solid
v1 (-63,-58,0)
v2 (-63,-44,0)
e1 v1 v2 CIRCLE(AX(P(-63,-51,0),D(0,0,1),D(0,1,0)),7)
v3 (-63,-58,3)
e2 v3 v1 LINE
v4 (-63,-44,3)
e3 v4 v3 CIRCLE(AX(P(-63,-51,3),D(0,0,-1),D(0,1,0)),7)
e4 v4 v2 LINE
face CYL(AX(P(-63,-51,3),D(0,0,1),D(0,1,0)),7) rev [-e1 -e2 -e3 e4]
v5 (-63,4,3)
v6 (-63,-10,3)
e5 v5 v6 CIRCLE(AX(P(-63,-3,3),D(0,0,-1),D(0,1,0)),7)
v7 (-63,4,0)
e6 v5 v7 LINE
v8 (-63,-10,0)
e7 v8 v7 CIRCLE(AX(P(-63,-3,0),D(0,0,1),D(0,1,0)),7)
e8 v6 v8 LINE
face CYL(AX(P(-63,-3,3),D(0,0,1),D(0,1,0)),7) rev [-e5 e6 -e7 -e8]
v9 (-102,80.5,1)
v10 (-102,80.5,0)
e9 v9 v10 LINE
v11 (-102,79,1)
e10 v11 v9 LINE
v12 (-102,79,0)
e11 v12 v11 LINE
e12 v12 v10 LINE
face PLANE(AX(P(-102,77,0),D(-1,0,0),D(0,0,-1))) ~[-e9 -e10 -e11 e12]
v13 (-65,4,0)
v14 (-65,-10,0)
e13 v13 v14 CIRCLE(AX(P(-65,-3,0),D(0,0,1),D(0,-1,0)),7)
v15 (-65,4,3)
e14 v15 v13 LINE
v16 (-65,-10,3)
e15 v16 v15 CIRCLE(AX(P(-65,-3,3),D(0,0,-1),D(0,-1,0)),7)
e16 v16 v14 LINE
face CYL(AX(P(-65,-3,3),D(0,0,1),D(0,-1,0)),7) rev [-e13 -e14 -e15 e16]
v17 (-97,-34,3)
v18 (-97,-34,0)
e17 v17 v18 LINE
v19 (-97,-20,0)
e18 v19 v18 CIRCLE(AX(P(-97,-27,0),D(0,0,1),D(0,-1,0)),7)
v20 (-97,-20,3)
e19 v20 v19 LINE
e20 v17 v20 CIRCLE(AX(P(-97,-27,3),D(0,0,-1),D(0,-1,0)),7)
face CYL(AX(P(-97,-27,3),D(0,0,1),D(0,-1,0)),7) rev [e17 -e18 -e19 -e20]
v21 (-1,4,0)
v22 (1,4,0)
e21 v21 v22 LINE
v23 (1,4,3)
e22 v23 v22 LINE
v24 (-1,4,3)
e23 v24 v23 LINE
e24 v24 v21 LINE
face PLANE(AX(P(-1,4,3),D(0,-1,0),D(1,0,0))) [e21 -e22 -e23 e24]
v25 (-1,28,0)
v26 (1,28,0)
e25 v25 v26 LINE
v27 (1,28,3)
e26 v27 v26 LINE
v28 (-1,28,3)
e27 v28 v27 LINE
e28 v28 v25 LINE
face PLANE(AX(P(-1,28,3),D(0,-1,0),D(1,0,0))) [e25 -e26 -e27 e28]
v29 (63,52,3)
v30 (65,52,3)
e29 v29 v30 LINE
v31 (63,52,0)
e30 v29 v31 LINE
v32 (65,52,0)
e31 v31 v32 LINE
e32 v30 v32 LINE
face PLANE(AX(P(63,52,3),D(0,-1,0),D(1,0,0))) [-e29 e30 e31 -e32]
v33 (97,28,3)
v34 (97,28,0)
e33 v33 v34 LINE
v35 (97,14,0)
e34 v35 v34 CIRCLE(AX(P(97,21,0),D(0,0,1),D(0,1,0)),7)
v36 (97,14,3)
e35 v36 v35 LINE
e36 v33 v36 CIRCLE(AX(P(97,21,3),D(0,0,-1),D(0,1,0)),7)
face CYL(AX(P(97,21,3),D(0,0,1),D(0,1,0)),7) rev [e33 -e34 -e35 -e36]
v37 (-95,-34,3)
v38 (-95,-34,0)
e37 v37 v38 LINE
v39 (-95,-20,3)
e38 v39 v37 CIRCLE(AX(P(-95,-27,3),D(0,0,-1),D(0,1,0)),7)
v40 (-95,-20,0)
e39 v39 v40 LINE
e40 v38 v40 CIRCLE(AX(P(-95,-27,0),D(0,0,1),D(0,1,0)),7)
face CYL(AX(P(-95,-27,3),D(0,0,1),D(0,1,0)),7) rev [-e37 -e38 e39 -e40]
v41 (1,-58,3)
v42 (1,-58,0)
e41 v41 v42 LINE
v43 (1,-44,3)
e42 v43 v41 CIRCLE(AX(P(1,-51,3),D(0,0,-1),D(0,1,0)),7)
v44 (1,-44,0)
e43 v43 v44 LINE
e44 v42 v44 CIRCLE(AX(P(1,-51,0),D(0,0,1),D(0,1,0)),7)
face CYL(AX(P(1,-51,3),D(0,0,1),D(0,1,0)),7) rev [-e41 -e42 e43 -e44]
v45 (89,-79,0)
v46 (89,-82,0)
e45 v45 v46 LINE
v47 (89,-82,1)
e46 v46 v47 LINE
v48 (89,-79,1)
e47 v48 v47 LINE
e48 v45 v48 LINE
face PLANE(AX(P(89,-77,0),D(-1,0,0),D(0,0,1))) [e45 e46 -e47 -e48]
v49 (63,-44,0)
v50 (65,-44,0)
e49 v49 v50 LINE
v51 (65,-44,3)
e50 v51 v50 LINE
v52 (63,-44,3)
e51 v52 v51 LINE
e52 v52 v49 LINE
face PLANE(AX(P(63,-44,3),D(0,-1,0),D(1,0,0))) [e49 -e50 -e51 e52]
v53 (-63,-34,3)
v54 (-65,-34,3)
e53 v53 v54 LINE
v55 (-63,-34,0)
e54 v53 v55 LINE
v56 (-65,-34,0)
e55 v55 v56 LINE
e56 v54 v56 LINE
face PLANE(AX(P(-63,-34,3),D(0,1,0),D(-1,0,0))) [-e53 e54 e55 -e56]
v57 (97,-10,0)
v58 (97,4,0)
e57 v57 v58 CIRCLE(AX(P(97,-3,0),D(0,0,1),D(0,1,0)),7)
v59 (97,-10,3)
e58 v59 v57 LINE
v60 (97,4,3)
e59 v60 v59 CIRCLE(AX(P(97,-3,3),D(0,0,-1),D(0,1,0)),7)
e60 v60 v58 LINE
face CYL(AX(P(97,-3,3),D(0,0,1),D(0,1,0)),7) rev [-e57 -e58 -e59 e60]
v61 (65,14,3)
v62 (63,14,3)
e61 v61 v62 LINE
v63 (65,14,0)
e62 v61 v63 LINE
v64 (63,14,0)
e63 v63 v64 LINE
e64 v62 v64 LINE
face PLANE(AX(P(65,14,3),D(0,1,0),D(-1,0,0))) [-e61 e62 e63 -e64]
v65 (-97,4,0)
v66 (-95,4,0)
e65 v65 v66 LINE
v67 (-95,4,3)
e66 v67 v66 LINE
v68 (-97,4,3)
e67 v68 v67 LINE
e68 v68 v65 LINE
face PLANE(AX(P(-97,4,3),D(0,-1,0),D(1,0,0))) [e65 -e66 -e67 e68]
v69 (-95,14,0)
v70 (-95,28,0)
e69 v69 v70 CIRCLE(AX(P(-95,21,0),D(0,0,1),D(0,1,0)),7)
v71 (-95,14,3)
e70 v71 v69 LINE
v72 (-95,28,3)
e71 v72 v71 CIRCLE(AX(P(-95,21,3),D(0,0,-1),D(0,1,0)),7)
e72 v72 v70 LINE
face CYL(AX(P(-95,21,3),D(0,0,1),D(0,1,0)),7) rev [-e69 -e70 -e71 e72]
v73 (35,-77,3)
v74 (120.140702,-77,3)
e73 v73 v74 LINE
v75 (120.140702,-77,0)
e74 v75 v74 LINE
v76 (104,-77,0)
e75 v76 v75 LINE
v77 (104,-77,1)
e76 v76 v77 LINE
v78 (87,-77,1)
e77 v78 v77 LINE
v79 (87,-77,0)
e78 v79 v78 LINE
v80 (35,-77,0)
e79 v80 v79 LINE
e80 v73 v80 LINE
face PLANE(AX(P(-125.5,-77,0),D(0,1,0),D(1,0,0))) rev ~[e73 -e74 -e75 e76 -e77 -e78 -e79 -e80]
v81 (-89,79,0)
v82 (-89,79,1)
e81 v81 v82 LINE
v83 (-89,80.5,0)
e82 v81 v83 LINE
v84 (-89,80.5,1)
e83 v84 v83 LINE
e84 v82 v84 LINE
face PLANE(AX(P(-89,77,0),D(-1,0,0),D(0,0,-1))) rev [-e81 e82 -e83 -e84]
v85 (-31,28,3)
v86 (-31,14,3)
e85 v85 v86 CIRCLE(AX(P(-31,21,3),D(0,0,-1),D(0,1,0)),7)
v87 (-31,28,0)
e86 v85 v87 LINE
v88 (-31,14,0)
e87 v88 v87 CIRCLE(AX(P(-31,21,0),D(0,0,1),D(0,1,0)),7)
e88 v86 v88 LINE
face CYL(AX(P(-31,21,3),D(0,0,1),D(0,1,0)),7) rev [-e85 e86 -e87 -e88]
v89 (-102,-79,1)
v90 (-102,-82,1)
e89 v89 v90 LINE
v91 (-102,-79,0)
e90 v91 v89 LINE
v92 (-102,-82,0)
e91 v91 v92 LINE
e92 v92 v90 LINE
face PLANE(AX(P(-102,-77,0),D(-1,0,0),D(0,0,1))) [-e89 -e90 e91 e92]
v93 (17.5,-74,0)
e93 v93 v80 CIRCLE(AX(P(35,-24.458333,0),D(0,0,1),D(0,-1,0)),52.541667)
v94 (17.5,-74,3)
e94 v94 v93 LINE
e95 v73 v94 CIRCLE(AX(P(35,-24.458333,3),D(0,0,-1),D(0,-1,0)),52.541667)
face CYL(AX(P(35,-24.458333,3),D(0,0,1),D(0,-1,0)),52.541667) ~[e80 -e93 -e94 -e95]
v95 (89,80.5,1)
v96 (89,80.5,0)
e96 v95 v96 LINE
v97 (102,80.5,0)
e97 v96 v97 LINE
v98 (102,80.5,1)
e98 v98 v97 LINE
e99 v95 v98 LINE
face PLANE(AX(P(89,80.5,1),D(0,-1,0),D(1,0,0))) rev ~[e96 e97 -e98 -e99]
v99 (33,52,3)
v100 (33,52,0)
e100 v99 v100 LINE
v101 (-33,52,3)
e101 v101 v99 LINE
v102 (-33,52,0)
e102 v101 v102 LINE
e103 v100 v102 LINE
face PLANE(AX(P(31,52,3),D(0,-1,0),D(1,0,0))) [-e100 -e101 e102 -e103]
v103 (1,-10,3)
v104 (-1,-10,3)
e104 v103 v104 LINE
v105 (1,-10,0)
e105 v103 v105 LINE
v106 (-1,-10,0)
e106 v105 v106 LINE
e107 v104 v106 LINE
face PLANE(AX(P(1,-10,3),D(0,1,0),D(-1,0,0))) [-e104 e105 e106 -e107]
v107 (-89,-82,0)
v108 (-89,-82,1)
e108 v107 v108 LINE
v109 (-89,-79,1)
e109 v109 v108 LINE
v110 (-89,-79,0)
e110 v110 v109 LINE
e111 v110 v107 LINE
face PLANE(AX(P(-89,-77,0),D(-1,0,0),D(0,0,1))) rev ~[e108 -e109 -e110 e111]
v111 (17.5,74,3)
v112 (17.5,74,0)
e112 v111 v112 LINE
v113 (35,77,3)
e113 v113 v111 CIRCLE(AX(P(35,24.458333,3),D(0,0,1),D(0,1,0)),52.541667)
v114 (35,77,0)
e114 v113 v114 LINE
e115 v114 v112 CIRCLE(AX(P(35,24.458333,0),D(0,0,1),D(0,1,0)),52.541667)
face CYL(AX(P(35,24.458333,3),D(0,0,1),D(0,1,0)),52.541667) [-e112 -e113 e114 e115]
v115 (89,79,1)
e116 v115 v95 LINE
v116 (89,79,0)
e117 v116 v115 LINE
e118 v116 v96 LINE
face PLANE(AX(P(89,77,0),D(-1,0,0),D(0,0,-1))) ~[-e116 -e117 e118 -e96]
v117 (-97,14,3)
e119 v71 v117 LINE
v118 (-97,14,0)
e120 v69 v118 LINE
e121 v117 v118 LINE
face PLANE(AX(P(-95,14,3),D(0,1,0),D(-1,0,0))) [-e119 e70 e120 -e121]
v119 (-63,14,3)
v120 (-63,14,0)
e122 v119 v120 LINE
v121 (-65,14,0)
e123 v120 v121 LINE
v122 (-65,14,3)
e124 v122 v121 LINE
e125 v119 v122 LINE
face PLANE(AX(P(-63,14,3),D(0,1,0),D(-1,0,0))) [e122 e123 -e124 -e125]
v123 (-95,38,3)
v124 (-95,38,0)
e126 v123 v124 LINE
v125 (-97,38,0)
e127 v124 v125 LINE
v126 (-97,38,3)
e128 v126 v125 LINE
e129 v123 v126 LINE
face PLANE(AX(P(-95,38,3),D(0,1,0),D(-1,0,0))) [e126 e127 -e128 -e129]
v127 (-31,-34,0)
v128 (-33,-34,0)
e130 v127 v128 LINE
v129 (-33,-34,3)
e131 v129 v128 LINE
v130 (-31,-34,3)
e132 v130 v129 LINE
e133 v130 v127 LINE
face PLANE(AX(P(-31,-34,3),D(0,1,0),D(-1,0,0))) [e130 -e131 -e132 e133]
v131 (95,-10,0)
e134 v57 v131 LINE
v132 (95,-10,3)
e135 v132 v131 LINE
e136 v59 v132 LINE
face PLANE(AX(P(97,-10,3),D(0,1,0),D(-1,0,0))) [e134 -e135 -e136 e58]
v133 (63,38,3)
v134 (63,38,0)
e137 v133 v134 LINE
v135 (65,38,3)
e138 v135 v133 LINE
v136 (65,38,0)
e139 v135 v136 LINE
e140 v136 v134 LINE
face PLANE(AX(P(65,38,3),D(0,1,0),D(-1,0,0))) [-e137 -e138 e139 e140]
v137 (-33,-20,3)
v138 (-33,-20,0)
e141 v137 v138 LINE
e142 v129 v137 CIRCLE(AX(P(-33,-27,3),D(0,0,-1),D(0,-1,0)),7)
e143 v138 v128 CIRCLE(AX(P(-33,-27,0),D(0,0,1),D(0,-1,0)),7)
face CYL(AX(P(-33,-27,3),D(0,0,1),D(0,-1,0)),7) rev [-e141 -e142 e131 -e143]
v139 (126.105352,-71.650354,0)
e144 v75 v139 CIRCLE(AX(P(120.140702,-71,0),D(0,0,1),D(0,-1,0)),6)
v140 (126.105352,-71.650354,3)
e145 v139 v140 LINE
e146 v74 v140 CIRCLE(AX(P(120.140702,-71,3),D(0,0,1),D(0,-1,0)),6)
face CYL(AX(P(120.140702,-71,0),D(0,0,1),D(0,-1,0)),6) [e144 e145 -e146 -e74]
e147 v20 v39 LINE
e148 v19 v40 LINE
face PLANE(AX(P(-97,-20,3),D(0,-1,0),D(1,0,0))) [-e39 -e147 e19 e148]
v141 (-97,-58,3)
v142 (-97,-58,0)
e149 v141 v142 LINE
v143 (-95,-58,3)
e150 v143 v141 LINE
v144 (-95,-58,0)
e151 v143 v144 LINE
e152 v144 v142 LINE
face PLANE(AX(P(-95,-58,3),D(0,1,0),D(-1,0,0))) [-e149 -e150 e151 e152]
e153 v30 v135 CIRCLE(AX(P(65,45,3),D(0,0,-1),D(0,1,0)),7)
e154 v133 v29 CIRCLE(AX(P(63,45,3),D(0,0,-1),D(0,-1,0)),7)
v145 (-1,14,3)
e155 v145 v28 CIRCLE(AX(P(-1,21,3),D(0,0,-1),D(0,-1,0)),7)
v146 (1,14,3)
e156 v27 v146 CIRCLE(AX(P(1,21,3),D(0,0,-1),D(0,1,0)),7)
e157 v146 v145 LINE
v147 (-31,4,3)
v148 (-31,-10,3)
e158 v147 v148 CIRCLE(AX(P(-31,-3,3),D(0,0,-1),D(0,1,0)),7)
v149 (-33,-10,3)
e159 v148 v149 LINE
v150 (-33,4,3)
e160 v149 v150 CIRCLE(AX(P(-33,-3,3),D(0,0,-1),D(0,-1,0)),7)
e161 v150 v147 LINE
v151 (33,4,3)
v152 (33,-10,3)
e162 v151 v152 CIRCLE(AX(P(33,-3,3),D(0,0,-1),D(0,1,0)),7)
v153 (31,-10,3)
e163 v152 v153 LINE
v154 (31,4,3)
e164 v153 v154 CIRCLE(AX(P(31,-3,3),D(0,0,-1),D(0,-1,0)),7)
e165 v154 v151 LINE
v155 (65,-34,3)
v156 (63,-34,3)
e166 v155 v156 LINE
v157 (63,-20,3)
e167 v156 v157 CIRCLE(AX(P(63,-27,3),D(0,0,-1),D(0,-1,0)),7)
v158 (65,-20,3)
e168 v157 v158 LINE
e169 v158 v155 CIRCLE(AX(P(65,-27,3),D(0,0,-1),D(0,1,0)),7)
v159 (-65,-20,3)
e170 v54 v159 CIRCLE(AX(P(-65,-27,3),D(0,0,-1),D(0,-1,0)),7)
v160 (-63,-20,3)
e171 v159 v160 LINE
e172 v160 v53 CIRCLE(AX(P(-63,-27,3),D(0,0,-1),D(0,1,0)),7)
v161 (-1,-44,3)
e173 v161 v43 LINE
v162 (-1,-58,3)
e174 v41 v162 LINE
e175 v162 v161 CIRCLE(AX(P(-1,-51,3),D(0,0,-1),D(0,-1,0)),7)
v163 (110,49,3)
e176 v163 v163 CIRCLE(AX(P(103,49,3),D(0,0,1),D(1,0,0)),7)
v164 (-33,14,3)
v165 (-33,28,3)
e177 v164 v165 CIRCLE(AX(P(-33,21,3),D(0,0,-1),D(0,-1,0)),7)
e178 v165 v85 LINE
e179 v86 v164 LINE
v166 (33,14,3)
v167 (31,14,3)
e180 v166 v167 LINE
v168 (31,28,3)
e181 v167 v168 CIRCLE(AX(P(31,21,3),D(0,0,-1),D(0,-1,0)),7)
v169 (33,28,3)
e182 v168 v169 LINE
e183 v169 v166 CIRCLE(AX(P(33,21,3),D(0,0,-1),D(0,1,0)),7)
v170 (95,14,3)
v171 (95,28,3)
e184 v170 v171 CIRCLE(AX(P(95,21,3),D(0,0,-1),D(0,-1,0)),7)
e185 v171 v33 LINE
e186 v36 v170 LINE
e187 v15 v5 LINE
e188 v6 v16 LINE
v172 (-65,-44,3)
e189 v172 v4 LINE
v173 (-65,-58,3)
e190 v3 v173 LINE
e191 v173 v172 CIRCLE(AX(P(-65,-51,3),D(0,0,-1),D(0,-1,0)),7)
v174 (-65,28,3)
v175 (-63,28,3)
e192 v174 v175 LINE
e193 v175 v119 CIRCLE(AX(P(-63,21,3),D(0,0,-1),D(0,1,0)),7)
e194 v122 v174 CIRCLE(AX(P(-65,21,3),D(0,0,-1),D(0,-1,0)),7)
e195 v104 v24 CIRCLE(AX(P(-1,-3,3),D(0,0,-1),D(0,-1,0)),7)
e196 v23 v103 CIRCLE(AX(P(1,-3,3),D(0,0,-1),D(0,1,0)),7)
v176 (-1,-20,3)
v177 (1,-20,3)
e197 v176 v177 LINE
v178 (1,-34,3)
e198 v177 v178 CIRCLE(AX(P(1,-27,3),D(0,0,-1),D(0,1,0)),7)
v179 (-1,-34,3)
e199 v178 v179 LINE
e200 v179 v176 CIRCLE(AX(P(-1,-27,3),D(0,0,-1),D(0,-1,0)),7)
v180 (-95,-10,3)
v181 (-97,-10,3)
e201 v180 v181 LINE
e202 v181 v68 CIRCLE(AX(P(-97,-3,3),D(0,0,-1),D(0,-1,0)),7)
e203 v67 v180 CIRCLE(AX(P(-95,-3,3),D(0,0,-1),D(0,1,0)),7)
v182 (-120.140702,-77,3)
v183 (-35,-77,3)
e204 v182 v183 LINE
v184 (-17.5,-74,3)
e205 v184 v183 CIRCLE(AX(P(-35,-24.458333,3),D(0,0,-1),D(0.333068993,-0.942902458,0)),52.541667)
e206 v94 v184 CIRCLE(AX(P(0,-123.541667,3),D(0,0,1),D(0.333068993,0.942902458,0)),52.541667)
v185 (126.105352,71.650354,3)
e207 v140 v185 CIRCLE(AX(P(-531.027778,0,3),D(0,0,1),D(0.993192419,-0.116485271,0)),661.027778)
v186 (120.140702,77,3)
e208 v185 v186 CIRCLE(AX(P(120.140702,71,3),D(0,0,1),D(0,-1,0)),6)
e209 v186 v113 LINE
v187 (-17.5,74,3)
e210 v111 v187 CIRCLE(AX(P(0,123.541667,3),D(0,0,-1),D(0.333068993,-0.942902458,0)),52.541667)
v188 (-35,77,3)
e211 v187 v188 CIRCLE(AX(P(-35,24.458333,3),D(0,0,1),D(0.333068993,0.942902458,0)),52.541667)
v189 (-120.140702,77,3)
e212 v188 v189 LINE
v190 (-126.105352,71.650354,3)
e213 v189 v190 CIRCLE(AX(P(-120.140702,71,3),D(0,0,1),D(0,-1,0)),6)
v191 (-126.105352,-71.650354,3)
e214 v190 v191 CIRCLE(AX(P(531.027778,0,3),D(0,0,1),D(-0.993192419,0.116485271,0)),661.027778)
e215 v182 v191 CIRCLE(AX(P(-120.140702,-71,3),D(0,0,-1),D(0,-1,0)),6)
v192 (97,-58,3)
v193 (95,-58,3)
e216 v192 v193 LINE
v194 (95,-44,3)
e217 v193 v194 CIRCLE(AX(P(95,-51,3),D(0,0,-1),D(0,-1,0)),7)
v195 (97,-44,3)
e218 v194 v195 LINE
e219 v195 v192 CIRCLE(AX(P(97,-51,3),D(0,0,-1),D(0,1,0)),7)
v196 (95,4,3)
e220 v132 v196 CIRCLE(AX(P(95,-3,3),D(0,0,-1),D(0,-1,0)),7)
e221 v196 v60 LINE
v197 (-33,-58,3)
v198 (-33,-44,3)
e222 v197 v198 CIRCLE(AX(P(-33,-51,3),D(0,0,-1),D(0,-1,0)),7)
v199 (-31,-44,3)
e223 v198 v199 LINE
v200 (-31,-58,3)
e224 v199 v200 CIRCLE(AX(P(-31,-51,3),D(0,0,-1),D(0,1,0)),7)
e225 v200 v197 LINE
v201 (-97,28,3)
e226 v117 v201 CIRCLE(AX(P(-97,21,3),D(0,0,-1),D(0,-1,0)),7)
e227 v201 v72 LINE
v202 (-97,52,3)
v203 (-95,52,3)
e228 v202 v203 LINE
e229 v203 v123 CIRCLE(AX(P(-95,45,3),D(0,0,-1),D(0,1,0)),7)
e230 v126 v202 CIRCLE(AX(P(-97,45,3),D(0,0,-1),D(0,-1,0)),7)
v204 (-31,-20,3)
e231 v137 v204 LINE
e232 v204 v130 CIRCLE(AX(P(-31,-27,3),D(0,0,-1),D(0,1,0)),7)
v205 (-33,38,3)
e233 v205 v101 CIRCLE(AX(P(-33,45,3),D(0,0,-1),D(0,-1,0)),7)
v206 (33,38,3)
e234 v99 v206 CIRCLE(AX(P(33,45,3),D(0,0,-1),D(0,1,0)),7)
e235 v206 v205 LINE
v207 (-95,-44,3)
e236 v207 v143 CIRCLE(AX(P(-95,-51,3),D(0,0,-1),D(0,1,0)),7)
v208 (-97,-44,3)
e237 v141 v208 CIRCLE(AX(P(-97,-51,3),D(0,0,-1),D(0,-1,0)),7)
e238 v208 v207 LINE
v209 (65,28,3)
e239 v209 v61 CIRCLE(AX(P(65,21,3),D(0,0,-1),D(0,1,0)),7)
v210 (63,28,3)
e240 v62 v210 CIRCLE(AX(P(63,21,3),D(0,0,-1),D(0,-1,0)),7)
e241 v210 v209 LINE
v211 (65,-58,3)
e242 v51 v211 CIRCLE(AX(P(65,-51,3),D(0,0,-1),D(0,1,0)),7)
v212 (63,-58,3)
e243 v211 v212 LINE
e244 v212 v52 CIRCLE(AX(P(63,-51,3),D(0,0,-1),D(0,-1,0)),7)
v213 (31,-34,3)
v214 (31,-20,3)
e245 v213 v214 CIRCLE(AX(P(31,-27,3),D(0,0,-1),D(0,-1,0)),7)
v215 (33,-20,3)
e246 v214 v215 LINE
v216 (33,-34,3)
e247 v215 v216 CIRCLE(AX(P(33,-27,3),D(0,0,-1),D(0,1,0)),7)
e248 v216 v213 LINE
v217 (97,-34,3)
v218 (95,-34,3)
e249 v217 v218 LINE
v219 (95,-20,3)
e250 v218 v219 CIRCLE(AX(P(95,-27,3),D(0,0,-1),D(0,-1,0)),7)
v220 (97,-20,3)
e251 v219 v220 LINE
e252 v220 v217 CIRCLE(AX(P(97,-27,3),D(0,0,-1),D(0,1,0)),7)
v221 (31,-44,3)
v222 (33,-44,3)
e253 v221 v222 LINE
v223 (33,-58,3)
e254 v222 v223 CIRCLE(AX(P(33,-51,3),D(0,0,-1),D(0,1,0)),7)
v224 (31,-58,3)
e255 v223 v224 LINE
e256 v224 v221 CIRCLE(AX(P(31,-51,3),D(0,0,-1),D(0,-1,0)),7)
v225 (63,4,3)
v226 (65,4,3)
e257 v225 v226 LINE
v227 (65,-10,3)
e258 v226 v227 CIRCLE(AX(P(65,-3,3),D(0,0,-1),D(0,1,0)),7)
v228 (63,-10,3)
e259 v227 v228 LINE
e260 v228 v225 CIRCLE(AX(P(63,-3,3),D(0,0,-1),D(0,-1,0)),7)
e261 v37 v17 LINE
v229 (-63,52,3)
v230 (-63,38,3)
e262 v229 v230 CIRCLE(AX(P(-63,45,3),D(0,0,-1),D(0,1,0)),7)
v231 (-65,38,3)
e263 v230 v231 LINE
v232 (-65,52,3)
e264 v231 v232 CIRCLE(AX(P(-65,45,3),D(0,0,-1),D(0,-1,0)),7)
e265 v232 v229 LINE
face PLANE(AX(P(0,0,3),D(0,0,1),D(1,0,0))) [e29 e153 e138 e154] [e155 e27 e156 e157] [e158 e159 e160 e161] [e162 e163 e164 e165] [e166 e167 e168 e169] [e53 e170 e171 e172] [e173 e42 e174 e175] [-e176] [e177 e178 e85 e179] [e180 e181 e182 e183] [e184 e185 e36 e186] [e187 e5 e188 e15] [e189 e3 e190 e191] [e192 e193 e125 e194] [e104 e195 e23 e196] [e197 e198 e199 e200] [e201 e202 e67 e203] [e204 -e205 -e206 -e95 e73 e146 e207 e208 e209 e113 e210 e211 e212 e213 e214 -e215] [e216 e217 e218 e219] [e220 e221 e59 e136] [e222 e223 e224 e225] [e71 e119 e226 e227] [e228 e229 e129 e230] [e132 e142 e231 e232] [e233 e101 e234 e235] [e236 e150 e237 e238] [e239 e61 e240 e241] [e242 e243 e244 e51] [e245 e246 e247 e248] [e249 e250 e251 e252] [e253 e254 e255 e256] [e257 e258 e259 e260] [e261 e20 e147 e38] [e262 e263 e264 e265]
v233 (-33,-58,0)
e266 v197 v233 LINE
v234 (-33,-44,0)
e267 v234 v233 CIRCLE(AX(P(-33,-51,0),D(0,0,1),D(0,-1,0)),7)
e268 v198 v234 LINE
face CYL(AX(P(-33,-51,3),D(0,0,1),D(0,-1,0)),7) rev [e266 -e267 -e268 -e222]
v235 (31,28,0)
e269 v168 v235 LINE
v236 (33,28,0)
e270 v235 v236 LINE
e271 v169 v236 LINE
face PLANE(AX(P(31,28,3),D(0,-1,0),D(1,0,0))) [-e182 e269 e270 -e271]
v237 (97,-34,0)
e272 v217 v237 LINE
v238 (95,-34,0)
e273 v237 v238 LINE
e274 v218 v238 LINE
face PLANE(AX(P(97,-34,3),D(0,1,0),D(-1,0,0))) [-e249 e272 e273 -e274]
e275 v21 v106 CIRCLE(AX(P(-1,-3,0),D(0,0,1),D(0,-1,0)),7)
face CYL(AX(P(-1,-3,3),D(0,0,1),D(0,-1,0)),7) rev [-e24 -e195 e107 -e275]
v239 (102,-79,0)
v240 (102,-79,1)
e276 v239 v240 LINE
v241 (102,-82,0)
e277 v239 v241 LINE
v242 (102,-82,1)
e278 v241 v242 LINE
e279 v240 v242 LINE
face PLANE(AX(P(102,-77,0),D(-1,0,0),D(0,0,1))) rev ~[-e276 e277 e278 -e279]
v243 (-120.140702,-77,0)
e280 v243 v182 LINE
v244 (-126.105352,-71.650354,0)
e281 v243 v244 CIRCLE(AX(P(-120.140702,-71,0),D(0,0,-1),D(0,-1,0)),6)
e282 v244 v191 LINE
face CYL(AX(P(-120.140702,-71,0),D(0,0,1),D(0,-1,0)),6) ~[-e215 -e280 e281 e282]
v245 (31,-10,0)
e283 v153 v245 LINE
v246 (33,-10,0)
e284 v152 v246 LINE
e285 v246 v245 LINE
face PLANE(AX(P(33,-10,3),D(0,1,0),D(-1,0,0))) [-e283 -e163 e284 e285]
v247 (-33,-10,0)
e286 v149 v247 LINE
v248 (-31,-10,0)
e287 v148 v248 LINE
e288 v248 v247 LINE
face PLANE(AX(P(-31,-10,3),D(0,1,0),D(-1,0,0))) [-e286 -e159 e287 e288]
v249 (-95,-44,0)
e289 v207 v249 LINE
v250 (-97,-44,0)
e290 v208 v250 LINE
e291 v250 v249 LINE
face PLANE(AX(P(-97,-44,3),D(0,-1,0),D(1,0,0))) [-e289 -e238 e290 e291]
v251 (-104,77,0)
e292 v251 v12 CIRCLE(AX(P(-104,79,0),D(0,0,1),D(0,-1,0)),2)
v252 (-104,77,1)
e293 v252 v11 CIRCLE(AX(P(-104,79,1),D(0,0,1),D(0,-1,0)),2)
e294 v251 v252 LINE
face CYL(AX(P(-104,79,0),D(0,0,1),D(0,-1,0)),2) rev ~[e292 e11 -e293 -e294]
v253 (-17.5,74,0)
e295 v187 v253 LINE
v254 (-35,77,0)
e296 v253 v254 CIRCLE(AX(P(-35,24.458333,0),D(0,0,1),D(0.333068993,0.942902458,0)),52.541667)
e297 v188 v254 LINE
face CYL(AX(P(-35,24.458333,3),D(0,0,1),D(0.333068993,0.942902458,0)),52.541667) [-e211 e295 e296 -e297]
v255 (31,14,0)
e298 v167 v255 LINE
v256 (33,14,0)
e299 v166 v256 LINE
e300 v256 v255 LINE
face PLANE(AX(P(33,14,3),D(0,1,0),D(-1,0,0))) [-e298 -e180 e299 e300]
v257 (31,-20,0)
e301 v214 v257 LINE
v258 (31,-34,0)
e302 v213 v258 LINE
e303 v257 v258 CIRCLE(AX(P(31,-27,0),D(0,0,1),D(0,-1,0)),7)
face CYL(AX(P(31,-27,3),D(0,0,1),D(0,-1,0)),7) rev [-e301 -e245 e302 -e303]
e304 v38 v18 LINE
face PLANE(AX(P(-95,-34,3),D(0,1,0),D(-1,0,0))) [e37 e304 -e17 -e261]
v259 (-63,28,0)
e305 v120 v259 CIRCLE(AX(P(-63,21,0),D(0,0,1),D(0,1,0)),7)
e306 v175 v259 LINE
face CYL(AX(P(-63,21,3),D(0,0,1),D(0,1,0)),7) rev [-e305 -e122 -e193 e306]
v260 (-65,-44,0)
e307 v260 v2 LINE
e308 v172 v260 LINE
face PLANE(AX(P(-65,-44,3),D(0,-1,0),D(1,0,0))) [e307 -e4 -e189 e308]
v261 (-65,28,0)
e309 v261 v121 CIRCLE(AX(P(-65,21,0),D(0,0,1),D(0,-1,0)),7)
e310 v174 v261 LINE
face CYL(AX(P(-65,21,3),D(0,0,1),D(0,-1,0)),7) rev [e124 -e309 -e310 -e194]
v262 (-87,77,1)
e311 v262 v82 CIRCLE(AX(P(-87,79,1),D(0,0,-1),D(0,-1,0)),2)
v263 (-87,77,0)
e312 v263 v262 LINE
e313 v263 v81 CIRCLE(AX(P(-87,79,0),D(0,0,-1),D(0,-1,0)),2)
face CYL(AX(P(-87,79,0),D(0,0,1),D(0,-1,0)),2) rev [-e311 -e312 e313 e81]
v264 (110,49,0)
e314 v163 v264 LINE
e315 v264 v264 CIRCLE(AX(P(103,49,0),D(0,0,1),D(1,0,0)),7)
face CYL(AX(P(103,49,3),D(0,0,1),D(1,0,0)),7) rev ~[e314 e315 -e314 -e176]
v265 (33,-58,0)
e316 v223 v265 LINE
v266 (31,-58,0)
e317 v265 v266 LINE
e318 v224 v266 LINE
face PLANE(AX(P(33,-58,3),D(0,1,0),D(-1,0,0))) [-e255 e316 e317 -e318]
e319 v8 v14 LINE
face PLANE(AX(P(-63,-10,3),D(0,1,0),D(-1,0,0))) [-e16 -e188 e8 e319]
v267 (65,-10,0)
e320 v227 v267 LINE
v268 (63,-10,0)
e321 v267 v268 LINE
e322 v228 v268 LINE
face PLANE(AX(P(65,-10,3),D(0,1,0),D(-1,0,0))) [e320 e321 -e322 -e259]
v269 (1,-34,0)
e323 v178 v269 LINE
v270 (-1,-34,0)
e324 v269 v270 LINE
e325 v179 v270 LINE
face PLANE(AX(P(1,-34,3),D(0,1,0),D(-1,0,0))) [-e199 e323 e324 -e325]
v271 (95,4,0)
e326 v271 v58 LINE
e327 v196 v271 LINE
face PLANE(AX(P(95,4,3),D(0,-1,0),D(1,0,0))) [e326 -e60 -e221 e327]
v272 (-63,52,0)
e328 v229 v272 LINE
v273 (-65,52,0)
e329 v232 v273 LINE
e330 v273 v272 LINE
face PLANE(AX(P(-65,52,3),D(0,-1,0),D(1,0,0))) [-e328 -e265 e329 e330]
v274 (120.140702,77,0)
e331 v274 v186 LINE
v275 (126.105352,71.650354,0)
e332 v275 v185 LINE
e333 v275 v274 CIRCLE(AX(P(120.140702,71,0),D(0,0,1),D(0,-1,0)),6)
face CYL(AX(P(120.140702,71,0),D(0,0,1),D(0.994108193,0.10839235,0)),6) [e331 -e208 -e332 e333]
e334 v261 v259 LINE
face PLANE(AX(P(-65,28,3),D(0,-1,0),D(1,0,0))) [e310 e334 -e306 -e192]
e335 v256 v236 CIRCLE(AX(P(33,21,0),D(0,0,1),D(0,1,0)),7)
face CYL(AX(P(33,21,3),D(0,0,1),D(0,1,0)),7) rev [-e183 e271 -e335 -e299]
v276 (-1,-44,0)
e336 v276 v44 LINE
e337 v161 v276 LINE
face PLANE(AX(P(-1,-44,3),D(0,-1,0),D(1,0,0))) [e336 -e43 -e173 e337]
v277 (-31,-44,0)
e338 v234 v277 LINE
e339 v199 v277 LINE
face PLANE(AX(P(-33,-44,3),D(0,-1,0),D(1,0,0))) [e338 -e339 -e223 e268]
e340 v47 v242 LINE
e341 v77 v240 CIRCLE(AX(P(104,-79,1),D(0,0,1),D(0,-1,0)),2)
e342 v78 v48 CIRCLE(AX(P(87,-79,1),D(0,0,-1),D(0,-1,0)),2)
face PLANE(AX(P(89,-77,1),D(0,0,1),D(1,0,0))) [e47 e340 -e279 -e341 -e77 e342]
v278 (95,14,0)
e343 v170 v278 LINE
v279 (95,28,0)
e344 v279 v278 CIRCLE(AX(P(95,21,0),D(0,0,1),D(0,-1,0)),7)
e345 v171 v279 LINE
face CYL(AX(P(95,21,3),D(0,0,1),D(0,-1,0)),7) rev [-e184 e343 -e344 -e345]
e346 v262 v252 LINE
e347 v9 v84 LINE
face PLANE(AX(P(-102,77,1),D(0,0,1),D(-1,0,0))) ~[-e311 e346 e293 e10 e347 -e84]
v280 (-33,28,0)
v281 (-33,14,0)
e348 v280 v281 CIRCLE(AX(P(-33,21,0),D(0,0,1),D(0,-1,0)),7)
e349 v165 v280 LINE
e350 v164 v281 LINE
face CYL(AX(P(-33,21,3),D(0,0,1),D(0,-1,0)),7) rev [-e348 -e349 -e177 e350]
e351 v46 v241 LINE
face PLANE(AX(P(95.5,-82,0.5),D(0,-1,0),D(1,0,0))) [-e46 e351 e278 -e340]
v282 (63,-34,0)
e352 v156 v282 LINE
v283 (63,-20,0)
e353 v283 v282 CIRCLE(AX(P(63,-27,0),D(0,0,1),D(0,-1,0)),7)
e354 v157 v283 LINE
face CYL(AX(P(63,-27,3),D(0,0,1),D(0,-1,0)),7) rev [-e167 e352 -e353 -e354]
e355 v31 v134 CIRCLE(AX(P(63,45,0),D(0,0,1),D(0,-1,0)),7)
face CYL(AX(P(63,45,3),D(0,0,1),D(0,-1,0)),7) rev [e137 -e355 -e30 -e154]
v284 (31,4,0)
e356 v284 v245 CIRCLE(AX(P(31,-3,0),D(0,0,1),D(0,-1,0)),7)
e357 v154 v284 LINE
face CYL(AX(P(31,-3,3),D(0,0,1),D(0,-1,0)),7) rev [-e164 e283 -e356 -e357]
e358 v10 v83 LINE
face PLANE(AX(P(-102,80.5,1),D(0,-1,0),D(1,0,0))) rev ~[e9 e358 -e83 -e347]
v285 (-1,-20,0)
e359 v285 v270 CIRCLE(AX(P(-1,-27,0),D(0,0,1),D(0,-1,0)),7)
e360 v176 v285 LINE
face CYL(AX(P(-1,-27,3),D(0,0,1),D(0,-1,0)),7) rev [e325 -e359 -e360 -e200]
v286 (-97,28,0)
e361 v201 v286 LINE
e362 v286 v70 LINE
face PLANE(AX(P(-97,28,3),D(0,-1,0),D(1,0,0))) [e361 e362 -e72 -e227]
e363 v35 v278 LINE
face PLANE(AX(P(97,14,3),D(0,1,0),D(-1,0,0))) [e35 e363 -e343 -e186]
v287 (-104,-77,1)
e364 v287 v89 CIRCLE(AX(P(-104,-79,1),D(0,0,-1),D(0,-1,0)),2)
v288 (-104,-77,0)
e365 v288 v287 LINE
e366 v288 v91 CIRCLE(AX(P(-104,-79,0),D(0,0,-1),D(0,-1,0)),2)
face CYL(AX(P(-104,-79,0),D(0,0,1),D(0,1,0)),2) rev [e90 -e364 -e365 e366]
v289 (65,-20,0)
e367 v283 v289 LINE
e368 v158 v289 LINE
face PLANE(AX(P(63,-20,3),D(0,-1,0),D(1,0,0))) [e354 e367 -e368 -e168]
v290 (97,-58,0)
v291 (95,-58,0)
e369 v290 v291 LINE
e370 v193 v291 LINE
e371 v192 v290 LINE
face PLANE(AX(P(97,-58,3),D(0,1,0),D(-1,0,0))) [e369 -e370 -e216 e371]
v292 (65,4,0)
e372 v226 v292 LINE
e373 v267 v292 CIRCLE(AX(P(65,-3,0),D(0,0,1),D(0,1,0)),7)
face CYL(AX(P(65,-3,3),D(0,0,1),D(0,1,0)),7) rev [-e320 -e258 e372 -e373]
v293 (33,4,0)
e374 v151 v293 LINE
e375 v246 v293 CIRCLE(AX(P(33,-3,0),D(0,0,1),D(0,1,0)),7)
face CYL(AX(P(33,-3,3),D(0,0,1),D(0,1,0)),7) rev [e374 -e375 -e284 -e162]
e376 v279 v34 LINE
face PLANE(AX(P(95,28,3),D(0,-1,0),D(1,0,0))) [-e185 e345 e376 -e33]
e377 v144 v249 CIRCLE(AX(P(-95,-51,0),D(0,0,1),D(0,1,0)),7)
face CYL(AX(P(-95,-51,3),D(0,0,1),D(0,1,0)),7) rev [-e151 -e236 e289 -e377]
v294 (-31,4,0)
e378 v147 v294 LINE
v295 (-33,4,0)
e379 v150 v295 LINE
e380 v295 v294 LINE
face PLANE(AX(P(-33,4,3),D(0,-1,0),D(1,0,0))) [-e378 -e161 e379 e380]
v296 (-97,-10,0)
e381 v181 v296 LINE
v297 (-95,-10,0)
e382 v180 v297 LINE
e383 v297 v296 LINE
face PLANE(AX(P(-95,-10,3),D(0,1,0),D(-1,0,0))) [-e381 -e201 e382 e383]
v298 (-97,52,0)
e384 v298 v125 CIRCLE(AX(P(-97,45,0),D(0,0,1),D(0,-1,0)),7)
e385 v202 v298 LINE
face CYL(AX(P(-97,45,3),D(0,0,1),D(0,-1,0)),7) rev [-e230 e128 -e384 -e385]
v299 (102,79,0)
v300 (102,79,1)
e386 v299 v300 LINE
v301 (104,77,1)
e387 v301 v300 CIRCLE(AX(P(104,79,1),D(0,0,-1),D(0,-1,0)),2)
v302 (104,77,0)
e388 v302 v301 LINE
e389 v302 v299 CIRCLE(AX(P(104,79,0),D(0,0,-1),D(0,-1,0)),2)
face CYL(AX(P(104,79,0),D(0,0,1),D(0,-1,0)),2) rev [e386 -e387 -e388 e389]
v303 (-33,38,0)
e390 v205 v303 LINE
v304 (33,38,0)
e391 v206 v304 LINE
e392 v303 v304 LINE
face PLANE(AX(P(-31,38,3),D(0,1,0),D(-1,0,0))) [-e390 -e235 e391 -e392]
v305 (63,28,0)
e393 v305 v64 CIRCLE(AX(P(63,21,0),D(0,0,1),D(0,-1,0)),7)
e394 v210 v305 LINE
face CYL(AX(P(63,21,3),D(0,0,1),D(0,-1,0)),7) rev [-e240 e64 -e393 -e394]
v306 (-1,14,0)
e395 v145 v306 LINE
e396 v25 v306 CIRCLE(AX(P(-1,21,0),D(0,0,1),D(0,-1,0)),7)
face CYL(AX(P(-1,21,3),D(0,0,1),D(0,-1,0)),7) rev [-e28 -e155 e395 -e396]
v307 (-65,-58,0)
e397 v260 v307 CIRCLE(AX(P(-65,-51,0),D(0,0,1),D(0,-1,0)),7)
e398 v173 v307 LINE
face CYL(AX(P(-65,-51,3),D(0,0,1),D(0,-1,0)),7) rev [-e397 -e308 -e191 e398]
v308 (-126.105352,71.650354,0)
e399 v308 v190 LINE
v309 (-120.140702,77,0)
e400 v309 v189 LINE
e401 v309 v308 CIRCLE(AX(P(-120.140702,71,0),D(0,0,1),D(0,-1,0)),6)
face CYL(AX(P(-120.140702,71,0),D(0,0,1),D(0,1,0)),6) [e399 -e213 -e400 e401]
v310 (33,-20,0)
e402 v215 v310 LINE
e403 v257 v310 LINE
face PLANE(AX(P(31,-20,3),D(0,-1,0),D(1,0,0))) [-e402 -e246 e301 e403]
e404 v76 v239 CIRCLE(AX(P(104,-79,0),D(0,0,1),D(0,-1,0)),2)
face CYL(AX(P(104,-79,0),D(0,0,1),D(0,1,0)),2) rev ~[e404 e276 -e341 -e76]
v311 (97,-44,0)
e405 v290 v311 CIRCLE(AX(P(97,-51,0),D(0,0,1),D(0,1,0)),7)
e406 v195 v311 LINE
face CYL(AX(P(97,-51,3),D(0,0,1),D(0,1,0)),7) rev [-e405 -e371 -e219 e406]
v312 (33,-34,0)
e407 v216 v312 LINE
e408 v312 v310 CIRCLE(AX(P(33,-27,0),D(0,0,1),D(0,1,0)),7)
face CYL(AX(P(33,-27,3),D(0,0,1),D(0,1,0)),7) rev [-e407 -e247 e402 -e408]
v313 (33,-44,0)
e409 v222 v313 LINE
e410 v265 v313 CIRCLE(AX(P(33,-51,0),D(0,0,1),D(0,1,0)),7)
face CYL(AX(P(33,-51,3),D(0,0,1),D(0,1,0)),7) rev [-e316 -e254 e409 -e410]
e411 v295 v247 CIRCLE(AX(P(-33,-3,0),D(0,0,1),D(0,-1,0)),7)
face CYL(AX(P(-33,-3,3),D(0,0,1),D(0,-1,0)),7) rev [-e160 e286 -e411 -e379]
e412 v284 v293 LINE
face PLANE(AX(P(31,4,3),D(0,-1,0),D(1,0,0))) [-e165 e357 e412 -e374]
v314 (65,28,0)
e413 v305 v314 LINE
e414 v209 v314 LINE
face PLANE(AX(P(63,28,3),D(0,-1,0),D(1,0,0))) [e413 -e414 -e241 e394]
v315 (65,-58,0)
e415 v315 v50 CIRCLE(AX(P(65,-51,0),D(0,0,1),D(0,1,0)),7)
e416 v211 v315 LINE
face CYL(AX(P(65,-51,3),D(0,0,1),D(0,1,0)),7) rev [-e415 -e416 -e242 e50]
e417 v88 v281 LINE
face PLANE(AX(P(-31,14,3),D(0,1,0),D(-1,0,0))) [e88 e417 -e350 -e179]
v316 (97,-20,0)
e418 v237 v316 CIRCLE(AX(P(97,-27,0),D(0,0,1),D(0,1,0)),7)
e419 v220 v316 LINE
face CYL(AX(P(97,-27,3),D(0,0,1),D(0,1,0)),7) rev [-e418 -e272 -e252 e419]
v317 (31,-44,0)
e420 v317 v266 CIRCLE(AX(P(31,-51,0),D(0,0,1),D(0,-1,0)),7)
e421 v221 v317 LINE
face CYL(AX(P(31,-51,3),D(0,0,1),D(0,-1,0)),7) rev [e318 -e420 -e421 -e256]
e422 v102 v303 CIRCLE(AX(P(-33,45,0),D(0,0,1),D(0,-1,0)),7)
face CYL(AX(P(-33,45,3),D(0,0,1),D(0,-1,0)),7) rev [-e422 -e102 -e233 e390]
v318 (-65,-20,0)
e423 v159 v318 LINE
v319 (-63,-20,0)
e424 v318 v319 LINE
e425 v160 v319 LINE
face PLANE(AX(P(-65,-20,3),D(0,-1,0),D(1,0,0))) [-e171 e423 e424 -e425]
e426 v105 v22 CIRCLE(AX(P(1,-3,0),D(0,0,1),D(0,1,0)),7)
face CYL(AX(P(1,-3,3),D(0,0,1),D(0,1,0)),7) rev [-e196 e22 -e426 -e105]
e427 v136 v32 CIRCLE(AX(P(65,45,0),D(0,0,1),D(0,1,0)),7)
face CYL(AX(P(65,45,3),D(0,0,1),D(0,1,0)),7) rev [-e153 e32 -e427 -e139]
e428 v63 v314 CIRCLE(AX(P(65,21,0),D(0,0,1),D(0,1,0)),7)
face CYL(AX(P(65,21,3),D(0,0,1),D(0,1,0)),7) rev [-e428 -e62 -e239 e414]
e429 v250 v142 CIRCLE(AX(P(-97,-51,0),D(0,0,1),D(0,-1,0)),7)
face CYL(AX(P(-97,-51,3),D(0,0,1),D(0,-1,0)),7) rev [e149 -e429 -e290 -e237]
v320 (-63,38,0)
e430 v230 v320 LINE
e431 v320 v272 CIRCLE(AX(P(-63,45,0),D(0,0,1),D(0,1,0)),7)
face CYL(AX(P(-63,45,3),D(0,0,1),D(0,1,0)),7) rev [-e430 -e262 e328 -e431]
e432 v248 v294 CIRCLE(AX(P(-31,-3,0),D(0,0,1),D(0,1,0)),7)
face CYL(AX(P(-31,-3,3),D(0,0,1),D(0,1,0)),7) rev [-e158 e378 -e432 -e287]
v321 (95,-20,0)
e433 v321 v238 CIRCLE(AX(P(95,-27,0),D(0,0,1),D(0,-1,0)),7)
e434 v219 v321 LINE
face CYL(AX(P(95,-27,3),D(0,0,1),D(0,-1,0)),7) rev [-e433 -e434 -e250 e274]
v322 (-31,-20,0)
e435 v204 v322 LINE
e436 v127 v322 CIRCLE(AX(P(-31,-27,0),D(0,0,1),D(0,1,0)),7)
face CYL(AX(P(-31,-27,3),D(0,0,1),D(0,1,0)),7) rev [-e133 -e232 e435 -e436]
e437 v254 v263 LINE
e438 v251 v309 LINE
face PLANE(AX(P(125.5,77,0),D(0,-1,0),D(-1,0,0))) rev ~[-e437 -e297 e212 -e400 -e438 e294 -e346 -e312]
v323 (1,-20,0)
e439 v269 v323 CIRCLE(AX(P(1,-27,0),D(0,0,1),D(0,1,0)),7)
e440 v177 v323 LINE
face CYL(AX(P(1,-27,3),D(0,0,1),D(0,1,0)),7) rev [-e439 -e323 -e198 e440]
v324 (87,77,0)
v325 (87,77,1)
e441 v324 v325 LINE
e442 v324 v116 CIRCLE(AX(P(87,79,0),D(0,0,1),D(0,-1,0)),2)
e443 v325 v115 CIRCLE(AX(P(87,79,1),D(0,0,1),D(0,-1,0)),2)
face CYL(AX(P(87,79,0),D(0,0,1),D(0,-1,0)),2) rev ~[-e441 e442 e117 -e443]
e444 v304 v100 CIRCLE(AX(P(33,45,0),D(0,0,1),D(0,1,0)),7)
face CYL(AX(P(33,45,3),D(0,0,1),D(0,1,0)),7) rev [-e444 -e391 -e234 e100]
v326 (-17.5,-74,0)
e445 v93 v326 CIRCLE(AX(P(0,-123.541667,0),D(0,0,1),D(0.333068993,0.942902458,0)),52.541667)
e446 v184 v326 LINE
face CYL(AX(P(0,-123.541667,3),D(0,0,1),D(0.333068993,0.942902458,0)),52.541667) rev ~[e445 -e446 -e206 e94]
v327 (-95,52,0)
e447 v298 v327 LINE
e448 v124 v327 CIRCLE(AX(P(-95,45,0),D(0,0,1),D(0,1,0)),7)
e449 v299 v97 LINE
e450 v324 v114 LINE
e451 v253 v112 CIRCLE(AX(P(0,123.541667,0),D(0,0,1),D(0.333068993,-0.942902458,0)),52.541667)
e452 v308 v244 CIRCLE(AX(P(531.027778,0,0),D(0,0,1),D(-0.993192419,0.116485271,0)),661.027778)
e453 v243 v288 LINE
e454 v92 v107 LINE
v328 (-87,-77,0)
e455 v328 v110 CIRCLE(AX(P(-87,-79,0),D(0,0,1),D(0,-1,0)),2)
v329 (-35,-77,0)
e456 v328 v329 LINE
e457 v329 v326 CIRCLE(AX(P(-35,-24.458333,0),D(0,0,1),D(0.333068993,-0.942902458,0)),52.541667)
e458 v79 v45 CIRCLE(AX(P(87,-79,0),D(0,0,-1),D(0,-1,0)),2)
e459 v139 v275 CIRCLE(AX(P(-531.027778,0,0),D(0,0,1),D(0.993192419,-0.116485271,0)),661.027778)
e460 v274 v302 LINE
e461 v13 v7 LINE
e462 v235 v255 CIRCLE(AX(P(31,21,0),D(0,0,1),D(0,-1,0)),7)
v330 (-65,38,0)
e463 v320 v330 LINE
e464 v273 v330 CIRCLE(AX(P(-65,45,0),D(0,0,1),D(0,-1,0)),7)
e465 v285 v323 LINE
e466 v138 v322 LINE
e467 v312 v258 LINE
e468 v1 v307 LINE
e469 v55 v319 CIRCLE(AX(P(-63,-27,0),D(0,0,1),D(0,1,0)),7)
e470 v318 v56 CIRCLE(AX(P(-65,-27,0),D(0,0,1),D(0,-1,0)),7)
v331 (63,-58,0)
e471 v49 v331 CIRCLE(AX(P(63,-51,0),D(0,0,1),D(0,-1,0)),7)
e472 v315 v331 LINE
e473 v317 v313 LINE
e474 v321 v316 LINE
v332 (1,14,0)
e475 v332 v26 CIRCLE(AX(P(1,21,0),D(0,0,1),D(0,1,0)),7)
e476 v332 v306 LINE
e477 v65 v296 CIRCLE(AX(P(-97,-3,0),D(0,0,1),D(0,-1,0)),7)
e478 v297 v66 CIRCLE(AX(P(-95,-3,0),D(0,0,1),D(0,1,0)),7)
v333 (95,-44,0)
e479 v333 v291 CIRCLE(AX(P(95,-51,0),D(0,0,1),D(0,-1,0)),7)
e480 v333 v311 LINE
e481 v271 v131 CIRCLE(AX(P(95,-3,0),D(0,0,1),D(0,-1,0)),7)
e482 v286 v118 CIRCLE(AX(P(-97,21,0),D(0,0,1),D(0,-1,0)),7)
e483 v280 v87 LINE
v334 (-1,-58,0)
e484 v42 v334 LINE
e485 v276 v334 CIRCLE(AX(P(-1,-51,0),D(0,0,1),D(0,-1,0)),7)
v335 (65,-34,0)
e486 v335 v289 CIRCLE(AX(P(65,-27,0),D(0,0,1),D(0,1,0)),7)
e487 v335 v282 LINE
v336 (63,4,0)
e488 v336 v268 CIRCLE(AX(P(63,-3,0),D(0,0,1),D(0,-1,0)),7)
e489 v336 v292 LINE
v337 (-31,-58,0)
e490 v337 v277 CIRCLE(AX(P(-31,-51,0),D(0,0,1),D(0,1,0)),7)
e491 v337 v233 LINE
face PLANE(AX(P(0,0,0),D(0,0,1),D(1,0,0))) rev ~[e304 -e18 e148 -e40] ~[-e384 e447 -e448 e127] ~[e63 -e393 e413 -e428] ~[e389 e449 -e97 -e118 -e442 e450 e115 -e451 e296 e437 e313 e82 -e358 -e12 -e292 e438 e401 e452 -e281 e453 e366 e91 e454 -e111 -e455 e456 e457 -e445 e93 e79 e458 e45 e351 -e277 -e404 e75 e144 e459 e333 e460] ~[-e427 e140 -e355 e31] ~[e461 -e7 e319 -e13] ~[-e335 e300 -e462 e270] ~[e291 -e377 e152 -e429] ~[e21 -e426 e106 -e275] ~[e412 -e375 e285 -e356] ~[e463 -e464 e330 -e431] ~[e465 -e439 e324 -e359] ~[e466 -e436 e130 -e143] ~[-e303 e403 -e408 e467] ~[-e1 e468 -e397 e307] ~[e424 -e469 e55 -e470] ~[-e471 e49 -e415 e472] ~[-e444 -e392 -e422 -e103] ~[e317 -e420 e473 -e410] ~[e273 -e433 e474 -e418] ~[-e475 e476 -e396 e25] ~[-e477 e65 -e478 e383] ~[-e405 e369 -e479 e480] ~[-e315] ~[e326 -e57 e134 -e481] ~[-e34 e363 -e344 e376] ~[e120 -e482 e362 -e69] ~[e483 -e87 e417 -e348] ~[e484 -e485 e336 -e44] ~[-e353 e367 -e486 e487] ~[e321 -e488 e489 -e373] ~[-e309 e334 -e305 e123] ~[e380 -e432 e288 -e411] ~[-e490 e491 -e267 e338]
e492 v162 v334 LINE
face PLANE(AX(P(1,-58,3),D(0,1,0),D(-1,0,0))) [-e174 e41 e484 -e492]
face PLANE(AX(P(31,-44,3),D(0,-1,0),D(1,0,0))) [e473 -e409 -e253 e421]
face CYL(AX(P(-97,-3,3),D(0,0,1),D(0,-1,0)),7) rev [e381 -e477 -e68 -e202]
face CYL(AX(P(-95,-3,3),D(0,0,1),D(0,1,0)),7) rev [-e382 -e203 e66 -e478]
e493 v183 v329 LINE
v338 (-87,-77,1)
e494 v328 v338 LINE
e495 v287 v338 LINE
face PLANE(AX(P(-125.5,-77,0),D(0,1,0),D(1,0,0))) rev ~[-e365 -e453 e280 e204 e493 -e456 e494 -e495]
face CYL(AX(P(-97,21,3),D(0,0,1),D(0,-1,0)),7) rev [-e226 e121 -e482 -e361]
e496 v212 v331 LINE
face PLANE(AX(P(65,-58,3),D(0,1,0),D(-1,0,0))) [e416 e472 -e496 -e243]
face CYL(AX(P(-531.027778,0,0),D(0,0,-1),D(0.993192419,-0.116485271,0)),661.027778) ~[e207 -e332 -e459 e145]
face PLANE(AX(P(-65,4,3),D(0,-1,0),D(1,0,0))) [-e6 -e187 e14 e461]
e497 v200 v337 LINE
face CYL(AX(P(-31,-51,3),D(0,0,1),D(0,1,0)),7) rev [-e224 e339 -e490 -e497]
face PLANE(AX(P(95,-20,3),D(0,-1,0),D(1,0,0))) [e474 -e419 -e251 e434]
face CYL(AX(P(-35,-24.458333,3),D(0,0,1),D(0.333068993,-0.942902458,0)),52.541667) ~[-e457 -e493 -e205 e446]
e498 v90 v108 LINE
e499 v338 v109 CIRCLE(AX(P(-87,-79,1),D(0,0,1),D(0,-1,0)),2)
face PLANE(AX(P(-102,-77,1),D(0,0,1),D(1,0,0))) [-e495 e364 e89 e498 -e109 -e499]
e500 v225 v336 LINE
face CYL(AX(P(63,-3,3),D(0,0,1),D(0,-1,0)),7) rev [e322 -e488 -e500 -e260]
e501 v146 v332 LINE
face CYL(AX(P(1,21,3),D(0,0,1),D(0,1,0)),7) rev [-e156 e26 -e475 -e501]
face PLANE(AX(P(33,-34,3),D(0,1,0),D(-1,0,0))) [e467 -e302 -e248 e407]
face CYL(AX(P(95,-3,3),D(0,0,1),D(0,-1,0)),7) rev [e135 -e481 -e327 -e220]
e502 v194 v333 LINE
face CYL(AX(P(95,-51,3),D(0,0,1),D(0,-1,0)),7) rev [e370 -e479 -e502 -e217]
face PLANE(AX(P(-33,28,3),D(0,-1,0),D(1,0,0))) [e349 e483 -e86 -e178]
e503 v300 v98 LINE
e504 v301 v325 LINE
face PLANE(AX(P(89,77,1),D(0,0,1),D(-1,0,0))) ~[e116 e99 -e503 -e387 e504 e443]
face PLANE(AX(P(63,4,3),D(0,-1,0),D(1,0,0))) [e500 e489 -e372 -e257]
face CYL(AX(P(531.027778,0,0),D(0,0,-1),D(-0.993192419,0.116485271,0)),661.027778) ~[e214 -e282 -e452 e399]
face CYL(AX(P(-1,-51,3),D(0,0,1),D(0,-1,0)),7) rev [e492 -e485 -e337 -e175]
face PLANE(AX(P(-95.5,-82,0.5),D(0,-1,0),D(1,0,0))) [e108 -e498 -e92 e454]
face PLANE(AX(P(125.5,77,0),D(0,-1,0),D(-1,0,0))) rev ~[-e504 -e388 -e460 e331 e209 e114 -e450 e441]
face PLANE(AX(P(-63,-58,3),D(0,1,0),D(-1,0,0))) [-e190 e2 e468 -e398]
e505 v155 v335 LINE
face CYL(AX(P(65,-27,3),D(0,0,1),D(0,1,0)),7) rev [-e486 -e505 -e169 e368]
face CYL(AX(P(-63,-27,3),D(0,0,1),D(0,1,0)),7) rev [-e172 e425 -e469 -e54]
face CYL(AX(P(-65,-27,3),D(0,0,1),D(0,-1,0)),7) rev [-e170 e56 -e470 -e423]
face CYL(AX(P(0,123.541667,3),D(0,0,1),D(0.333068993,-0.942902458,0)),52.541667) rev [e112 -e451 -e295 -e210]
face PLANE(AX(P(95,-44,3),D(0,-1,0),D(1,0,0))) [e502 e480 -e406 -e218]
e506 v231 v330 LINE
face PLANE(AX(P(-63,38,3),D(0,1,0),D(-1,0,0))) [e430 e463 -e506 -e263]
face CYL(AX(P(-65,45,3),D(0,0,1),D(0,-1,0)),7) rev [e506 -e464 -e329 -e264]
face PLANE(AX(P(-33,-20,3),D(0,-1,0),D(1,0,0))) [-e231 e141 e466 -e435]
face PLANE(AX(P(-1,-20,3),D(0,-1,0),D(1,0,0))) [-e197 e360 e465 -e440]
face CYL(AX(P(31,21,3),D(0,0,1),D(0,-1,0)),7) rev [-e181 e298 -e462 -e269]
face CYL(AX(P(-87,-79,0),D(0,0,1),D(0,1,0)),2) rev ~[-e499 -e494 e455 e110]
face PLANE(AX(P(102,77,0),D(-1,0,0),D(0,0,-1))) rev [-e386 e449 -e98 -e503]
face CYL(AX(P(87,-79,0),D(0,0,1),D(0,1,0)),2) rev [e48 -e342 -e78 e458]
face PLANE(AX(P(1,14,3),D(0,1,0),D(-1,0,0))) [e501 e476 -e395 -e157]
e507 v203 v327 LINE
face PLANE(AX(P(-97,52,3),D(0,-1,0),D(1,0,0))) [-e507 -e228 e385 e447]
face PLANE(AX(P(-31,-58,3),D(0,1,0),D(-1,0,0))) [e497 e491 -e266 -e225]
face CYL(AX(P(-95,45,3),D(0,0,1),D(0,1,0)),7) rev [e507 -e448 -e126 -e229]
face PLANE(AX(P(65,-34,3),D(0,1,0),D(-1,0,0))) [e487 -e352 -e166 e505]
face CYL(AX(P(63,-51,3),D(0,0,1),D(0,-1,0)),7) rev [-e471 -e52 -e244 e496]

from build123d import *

# Parameters (mm, degrees)
OUTSIDE_DEPTH      = 3
CORNER_R           = 6
CUTOUT_DEPTH       = 152.122466894
CUTOUTS_COUNT      = 7
CUTOUTS_PITCH      = 32
CUTOUTS_COUNT_DIR2 = 5
CUTOUTS_PITCH_DIR2 = 24
SKETCH4_R          = 7
TOP_OPENING_DEPTH  = 152.122466894
CURVE_DEPTH        = 152.122466894
SKETCH6_W          = 62
SKETCH6_H          = 14
JOIN_DEPTH         = 152.122466894
SKETCH7_W          = 13
SKETCH7_H          = 1
TAB_DEPTH          = 5
TAB_CORNER_R       = 2
SKETCH8_W          = 13
SKETCH8_H          = 1.5
TOP_TRIM_DEPTH     = 154.71402018


with BuildPart() as part:
    # Sketch1 → Outside (new body)
    with BuildSketch(Plane.XY):
        with BuildLine():
            Line((-125.5, -77), (125.5, -77))
            ThreePointArc((125.5, -77), (130, 0), (125.5, 77))
            Line((125.5, 77), (-125.5, 77))
            ThreePointArc((-125.5, 77), (-130, 0), (-125.5, -77))
        make_face()
    extrude(amount=OUTSIDE_DEPTH)

    # Corner
    corner_edges = [part.edges().sort_by_distance(p)[0] for p in [
        (-125.5, 77, 1.5),
        (125.5, 77, 1.5),
        (125.5, -77, 1.5),
        (-125.5, -77, 1.5),
    ]]
    fillet(corner_edges, radius=CORNER_R)

    # Sketch2 → Cutout (cut, through all)
    with BuildSketch(Plane.XY.offset(3)):
        with BuildLine():
            Line((-97, -44), (-95, -44))
            ThreePointArc((-95, -44), (-88, -51), (-95, -58))
            Line((-95, -58), (-97, -58))
            ThreePointArc((-97, -58), (-104, -51), (-97, -44))
        make_face()
    cutout = extrude(amount=-CUTOUT_DEPTH, mode=Mode.SUBTRACT)

    # Cutouts: Cutout 7 × 5, 1 skipped
    with Locations(*[(i * CUTOUTS_PITCH, j * CUTOUTS_PITCH_DIR2, 0) for i in range(CUTOUTS_COUNT) for j in range(CUTOUTS_COUNT_DIR2) if (i, j) not in ((0, 0), (6, 4))]):
        add(cutout, mode=Mode.SUBTRACT)

    # Sketch4 → Top Opening (cut, through all)
    with BuildSketch(Plane.XY.offset(3)):
        with Locations((103, 49)):
            Circle(SKETCH4_R)
    extrude(amount=-TOP_OPENING_DEPTH, mode=Mode.SUBTRACT)

    # Sketch5 → Curve (cut, through all)
    with BuildSketch(Plane.XY.offset(3)):
        with BuildLine():
            Line((-35, -77), (35, -77))
            ThreePointArc((35, -77), (26.122359548, -76.244569305), (17.5, -74))
            ThreePointArc((17.5, -74), (0, -71), (-17.5, -74))
            ThreePointArc((-17.5, -74), (-26.122359548, -76.244569305), (-35, -77))
        make_face()
    curve = extrude(amount=-CURVE_DEPTH, mode=Mode.SUBTRACT)

    # Sketch6 → Join (cut, through all)
    with BuildSketch(Plane.XY.offset(3)):
        with Locations((0, 45)):
            Rectangle(SKETCH6_W, SKETCH6_H)
    extrude(amount=-JOIN_DEPTH, mode=Mode.SUBTRACT)

    # Sketch7 → Tab (add)
    with BuildSketch(Plane.XZ.offset(77)):
        with Locations((95.5, 0.5)):
            Rectangle(SKETCH7_W, SKETCH7_H)
        with Locations((-95.5, 0.5)):
            Rectangle(SKETCH7_W, SKETCH7_H)
    tab = extrude(amount=TAB_DEPTH)

    # Tabs: Curve, Tab across plane
    add(curve.mirror(Plane.ZX), mode=Mode.SUBTRACT)
    add(tab.mirror(Plane.ZX))

    # Tab Corner
    tab_corner_edges = [part.edges().sort_by_distance(p)[0] for p in [
        (89, -77, 0.5),
        (102, -77, 0.5),
        (-102, -77, 0.5),
        (-89, -77, 0.5),
        (89, 77, 0.5),
        (102, 77, 0.5),
        (-102, 77, 0.5),
        (-89, 77, 0.5),
    ]]
    fillet(tab_corner_edges, radius=TAB_CORNER_R)

    # Sketch8 → Top Trim (cut, through all)
    with BuildSketch(Plane.XY.offset(1)):
        with Locations((-95.5, 81.25)):
            Rectangle(SKETCH8_W, SKETCH8_H)
        with Locations((95.5, 81.25)):
            Rectangle(SKETCH8_W, SKETCH8_H)
    extrude(amount=-TOP_TRIM_DEPTH, mode=Mode.SUBTRACT)


solid = part.part
